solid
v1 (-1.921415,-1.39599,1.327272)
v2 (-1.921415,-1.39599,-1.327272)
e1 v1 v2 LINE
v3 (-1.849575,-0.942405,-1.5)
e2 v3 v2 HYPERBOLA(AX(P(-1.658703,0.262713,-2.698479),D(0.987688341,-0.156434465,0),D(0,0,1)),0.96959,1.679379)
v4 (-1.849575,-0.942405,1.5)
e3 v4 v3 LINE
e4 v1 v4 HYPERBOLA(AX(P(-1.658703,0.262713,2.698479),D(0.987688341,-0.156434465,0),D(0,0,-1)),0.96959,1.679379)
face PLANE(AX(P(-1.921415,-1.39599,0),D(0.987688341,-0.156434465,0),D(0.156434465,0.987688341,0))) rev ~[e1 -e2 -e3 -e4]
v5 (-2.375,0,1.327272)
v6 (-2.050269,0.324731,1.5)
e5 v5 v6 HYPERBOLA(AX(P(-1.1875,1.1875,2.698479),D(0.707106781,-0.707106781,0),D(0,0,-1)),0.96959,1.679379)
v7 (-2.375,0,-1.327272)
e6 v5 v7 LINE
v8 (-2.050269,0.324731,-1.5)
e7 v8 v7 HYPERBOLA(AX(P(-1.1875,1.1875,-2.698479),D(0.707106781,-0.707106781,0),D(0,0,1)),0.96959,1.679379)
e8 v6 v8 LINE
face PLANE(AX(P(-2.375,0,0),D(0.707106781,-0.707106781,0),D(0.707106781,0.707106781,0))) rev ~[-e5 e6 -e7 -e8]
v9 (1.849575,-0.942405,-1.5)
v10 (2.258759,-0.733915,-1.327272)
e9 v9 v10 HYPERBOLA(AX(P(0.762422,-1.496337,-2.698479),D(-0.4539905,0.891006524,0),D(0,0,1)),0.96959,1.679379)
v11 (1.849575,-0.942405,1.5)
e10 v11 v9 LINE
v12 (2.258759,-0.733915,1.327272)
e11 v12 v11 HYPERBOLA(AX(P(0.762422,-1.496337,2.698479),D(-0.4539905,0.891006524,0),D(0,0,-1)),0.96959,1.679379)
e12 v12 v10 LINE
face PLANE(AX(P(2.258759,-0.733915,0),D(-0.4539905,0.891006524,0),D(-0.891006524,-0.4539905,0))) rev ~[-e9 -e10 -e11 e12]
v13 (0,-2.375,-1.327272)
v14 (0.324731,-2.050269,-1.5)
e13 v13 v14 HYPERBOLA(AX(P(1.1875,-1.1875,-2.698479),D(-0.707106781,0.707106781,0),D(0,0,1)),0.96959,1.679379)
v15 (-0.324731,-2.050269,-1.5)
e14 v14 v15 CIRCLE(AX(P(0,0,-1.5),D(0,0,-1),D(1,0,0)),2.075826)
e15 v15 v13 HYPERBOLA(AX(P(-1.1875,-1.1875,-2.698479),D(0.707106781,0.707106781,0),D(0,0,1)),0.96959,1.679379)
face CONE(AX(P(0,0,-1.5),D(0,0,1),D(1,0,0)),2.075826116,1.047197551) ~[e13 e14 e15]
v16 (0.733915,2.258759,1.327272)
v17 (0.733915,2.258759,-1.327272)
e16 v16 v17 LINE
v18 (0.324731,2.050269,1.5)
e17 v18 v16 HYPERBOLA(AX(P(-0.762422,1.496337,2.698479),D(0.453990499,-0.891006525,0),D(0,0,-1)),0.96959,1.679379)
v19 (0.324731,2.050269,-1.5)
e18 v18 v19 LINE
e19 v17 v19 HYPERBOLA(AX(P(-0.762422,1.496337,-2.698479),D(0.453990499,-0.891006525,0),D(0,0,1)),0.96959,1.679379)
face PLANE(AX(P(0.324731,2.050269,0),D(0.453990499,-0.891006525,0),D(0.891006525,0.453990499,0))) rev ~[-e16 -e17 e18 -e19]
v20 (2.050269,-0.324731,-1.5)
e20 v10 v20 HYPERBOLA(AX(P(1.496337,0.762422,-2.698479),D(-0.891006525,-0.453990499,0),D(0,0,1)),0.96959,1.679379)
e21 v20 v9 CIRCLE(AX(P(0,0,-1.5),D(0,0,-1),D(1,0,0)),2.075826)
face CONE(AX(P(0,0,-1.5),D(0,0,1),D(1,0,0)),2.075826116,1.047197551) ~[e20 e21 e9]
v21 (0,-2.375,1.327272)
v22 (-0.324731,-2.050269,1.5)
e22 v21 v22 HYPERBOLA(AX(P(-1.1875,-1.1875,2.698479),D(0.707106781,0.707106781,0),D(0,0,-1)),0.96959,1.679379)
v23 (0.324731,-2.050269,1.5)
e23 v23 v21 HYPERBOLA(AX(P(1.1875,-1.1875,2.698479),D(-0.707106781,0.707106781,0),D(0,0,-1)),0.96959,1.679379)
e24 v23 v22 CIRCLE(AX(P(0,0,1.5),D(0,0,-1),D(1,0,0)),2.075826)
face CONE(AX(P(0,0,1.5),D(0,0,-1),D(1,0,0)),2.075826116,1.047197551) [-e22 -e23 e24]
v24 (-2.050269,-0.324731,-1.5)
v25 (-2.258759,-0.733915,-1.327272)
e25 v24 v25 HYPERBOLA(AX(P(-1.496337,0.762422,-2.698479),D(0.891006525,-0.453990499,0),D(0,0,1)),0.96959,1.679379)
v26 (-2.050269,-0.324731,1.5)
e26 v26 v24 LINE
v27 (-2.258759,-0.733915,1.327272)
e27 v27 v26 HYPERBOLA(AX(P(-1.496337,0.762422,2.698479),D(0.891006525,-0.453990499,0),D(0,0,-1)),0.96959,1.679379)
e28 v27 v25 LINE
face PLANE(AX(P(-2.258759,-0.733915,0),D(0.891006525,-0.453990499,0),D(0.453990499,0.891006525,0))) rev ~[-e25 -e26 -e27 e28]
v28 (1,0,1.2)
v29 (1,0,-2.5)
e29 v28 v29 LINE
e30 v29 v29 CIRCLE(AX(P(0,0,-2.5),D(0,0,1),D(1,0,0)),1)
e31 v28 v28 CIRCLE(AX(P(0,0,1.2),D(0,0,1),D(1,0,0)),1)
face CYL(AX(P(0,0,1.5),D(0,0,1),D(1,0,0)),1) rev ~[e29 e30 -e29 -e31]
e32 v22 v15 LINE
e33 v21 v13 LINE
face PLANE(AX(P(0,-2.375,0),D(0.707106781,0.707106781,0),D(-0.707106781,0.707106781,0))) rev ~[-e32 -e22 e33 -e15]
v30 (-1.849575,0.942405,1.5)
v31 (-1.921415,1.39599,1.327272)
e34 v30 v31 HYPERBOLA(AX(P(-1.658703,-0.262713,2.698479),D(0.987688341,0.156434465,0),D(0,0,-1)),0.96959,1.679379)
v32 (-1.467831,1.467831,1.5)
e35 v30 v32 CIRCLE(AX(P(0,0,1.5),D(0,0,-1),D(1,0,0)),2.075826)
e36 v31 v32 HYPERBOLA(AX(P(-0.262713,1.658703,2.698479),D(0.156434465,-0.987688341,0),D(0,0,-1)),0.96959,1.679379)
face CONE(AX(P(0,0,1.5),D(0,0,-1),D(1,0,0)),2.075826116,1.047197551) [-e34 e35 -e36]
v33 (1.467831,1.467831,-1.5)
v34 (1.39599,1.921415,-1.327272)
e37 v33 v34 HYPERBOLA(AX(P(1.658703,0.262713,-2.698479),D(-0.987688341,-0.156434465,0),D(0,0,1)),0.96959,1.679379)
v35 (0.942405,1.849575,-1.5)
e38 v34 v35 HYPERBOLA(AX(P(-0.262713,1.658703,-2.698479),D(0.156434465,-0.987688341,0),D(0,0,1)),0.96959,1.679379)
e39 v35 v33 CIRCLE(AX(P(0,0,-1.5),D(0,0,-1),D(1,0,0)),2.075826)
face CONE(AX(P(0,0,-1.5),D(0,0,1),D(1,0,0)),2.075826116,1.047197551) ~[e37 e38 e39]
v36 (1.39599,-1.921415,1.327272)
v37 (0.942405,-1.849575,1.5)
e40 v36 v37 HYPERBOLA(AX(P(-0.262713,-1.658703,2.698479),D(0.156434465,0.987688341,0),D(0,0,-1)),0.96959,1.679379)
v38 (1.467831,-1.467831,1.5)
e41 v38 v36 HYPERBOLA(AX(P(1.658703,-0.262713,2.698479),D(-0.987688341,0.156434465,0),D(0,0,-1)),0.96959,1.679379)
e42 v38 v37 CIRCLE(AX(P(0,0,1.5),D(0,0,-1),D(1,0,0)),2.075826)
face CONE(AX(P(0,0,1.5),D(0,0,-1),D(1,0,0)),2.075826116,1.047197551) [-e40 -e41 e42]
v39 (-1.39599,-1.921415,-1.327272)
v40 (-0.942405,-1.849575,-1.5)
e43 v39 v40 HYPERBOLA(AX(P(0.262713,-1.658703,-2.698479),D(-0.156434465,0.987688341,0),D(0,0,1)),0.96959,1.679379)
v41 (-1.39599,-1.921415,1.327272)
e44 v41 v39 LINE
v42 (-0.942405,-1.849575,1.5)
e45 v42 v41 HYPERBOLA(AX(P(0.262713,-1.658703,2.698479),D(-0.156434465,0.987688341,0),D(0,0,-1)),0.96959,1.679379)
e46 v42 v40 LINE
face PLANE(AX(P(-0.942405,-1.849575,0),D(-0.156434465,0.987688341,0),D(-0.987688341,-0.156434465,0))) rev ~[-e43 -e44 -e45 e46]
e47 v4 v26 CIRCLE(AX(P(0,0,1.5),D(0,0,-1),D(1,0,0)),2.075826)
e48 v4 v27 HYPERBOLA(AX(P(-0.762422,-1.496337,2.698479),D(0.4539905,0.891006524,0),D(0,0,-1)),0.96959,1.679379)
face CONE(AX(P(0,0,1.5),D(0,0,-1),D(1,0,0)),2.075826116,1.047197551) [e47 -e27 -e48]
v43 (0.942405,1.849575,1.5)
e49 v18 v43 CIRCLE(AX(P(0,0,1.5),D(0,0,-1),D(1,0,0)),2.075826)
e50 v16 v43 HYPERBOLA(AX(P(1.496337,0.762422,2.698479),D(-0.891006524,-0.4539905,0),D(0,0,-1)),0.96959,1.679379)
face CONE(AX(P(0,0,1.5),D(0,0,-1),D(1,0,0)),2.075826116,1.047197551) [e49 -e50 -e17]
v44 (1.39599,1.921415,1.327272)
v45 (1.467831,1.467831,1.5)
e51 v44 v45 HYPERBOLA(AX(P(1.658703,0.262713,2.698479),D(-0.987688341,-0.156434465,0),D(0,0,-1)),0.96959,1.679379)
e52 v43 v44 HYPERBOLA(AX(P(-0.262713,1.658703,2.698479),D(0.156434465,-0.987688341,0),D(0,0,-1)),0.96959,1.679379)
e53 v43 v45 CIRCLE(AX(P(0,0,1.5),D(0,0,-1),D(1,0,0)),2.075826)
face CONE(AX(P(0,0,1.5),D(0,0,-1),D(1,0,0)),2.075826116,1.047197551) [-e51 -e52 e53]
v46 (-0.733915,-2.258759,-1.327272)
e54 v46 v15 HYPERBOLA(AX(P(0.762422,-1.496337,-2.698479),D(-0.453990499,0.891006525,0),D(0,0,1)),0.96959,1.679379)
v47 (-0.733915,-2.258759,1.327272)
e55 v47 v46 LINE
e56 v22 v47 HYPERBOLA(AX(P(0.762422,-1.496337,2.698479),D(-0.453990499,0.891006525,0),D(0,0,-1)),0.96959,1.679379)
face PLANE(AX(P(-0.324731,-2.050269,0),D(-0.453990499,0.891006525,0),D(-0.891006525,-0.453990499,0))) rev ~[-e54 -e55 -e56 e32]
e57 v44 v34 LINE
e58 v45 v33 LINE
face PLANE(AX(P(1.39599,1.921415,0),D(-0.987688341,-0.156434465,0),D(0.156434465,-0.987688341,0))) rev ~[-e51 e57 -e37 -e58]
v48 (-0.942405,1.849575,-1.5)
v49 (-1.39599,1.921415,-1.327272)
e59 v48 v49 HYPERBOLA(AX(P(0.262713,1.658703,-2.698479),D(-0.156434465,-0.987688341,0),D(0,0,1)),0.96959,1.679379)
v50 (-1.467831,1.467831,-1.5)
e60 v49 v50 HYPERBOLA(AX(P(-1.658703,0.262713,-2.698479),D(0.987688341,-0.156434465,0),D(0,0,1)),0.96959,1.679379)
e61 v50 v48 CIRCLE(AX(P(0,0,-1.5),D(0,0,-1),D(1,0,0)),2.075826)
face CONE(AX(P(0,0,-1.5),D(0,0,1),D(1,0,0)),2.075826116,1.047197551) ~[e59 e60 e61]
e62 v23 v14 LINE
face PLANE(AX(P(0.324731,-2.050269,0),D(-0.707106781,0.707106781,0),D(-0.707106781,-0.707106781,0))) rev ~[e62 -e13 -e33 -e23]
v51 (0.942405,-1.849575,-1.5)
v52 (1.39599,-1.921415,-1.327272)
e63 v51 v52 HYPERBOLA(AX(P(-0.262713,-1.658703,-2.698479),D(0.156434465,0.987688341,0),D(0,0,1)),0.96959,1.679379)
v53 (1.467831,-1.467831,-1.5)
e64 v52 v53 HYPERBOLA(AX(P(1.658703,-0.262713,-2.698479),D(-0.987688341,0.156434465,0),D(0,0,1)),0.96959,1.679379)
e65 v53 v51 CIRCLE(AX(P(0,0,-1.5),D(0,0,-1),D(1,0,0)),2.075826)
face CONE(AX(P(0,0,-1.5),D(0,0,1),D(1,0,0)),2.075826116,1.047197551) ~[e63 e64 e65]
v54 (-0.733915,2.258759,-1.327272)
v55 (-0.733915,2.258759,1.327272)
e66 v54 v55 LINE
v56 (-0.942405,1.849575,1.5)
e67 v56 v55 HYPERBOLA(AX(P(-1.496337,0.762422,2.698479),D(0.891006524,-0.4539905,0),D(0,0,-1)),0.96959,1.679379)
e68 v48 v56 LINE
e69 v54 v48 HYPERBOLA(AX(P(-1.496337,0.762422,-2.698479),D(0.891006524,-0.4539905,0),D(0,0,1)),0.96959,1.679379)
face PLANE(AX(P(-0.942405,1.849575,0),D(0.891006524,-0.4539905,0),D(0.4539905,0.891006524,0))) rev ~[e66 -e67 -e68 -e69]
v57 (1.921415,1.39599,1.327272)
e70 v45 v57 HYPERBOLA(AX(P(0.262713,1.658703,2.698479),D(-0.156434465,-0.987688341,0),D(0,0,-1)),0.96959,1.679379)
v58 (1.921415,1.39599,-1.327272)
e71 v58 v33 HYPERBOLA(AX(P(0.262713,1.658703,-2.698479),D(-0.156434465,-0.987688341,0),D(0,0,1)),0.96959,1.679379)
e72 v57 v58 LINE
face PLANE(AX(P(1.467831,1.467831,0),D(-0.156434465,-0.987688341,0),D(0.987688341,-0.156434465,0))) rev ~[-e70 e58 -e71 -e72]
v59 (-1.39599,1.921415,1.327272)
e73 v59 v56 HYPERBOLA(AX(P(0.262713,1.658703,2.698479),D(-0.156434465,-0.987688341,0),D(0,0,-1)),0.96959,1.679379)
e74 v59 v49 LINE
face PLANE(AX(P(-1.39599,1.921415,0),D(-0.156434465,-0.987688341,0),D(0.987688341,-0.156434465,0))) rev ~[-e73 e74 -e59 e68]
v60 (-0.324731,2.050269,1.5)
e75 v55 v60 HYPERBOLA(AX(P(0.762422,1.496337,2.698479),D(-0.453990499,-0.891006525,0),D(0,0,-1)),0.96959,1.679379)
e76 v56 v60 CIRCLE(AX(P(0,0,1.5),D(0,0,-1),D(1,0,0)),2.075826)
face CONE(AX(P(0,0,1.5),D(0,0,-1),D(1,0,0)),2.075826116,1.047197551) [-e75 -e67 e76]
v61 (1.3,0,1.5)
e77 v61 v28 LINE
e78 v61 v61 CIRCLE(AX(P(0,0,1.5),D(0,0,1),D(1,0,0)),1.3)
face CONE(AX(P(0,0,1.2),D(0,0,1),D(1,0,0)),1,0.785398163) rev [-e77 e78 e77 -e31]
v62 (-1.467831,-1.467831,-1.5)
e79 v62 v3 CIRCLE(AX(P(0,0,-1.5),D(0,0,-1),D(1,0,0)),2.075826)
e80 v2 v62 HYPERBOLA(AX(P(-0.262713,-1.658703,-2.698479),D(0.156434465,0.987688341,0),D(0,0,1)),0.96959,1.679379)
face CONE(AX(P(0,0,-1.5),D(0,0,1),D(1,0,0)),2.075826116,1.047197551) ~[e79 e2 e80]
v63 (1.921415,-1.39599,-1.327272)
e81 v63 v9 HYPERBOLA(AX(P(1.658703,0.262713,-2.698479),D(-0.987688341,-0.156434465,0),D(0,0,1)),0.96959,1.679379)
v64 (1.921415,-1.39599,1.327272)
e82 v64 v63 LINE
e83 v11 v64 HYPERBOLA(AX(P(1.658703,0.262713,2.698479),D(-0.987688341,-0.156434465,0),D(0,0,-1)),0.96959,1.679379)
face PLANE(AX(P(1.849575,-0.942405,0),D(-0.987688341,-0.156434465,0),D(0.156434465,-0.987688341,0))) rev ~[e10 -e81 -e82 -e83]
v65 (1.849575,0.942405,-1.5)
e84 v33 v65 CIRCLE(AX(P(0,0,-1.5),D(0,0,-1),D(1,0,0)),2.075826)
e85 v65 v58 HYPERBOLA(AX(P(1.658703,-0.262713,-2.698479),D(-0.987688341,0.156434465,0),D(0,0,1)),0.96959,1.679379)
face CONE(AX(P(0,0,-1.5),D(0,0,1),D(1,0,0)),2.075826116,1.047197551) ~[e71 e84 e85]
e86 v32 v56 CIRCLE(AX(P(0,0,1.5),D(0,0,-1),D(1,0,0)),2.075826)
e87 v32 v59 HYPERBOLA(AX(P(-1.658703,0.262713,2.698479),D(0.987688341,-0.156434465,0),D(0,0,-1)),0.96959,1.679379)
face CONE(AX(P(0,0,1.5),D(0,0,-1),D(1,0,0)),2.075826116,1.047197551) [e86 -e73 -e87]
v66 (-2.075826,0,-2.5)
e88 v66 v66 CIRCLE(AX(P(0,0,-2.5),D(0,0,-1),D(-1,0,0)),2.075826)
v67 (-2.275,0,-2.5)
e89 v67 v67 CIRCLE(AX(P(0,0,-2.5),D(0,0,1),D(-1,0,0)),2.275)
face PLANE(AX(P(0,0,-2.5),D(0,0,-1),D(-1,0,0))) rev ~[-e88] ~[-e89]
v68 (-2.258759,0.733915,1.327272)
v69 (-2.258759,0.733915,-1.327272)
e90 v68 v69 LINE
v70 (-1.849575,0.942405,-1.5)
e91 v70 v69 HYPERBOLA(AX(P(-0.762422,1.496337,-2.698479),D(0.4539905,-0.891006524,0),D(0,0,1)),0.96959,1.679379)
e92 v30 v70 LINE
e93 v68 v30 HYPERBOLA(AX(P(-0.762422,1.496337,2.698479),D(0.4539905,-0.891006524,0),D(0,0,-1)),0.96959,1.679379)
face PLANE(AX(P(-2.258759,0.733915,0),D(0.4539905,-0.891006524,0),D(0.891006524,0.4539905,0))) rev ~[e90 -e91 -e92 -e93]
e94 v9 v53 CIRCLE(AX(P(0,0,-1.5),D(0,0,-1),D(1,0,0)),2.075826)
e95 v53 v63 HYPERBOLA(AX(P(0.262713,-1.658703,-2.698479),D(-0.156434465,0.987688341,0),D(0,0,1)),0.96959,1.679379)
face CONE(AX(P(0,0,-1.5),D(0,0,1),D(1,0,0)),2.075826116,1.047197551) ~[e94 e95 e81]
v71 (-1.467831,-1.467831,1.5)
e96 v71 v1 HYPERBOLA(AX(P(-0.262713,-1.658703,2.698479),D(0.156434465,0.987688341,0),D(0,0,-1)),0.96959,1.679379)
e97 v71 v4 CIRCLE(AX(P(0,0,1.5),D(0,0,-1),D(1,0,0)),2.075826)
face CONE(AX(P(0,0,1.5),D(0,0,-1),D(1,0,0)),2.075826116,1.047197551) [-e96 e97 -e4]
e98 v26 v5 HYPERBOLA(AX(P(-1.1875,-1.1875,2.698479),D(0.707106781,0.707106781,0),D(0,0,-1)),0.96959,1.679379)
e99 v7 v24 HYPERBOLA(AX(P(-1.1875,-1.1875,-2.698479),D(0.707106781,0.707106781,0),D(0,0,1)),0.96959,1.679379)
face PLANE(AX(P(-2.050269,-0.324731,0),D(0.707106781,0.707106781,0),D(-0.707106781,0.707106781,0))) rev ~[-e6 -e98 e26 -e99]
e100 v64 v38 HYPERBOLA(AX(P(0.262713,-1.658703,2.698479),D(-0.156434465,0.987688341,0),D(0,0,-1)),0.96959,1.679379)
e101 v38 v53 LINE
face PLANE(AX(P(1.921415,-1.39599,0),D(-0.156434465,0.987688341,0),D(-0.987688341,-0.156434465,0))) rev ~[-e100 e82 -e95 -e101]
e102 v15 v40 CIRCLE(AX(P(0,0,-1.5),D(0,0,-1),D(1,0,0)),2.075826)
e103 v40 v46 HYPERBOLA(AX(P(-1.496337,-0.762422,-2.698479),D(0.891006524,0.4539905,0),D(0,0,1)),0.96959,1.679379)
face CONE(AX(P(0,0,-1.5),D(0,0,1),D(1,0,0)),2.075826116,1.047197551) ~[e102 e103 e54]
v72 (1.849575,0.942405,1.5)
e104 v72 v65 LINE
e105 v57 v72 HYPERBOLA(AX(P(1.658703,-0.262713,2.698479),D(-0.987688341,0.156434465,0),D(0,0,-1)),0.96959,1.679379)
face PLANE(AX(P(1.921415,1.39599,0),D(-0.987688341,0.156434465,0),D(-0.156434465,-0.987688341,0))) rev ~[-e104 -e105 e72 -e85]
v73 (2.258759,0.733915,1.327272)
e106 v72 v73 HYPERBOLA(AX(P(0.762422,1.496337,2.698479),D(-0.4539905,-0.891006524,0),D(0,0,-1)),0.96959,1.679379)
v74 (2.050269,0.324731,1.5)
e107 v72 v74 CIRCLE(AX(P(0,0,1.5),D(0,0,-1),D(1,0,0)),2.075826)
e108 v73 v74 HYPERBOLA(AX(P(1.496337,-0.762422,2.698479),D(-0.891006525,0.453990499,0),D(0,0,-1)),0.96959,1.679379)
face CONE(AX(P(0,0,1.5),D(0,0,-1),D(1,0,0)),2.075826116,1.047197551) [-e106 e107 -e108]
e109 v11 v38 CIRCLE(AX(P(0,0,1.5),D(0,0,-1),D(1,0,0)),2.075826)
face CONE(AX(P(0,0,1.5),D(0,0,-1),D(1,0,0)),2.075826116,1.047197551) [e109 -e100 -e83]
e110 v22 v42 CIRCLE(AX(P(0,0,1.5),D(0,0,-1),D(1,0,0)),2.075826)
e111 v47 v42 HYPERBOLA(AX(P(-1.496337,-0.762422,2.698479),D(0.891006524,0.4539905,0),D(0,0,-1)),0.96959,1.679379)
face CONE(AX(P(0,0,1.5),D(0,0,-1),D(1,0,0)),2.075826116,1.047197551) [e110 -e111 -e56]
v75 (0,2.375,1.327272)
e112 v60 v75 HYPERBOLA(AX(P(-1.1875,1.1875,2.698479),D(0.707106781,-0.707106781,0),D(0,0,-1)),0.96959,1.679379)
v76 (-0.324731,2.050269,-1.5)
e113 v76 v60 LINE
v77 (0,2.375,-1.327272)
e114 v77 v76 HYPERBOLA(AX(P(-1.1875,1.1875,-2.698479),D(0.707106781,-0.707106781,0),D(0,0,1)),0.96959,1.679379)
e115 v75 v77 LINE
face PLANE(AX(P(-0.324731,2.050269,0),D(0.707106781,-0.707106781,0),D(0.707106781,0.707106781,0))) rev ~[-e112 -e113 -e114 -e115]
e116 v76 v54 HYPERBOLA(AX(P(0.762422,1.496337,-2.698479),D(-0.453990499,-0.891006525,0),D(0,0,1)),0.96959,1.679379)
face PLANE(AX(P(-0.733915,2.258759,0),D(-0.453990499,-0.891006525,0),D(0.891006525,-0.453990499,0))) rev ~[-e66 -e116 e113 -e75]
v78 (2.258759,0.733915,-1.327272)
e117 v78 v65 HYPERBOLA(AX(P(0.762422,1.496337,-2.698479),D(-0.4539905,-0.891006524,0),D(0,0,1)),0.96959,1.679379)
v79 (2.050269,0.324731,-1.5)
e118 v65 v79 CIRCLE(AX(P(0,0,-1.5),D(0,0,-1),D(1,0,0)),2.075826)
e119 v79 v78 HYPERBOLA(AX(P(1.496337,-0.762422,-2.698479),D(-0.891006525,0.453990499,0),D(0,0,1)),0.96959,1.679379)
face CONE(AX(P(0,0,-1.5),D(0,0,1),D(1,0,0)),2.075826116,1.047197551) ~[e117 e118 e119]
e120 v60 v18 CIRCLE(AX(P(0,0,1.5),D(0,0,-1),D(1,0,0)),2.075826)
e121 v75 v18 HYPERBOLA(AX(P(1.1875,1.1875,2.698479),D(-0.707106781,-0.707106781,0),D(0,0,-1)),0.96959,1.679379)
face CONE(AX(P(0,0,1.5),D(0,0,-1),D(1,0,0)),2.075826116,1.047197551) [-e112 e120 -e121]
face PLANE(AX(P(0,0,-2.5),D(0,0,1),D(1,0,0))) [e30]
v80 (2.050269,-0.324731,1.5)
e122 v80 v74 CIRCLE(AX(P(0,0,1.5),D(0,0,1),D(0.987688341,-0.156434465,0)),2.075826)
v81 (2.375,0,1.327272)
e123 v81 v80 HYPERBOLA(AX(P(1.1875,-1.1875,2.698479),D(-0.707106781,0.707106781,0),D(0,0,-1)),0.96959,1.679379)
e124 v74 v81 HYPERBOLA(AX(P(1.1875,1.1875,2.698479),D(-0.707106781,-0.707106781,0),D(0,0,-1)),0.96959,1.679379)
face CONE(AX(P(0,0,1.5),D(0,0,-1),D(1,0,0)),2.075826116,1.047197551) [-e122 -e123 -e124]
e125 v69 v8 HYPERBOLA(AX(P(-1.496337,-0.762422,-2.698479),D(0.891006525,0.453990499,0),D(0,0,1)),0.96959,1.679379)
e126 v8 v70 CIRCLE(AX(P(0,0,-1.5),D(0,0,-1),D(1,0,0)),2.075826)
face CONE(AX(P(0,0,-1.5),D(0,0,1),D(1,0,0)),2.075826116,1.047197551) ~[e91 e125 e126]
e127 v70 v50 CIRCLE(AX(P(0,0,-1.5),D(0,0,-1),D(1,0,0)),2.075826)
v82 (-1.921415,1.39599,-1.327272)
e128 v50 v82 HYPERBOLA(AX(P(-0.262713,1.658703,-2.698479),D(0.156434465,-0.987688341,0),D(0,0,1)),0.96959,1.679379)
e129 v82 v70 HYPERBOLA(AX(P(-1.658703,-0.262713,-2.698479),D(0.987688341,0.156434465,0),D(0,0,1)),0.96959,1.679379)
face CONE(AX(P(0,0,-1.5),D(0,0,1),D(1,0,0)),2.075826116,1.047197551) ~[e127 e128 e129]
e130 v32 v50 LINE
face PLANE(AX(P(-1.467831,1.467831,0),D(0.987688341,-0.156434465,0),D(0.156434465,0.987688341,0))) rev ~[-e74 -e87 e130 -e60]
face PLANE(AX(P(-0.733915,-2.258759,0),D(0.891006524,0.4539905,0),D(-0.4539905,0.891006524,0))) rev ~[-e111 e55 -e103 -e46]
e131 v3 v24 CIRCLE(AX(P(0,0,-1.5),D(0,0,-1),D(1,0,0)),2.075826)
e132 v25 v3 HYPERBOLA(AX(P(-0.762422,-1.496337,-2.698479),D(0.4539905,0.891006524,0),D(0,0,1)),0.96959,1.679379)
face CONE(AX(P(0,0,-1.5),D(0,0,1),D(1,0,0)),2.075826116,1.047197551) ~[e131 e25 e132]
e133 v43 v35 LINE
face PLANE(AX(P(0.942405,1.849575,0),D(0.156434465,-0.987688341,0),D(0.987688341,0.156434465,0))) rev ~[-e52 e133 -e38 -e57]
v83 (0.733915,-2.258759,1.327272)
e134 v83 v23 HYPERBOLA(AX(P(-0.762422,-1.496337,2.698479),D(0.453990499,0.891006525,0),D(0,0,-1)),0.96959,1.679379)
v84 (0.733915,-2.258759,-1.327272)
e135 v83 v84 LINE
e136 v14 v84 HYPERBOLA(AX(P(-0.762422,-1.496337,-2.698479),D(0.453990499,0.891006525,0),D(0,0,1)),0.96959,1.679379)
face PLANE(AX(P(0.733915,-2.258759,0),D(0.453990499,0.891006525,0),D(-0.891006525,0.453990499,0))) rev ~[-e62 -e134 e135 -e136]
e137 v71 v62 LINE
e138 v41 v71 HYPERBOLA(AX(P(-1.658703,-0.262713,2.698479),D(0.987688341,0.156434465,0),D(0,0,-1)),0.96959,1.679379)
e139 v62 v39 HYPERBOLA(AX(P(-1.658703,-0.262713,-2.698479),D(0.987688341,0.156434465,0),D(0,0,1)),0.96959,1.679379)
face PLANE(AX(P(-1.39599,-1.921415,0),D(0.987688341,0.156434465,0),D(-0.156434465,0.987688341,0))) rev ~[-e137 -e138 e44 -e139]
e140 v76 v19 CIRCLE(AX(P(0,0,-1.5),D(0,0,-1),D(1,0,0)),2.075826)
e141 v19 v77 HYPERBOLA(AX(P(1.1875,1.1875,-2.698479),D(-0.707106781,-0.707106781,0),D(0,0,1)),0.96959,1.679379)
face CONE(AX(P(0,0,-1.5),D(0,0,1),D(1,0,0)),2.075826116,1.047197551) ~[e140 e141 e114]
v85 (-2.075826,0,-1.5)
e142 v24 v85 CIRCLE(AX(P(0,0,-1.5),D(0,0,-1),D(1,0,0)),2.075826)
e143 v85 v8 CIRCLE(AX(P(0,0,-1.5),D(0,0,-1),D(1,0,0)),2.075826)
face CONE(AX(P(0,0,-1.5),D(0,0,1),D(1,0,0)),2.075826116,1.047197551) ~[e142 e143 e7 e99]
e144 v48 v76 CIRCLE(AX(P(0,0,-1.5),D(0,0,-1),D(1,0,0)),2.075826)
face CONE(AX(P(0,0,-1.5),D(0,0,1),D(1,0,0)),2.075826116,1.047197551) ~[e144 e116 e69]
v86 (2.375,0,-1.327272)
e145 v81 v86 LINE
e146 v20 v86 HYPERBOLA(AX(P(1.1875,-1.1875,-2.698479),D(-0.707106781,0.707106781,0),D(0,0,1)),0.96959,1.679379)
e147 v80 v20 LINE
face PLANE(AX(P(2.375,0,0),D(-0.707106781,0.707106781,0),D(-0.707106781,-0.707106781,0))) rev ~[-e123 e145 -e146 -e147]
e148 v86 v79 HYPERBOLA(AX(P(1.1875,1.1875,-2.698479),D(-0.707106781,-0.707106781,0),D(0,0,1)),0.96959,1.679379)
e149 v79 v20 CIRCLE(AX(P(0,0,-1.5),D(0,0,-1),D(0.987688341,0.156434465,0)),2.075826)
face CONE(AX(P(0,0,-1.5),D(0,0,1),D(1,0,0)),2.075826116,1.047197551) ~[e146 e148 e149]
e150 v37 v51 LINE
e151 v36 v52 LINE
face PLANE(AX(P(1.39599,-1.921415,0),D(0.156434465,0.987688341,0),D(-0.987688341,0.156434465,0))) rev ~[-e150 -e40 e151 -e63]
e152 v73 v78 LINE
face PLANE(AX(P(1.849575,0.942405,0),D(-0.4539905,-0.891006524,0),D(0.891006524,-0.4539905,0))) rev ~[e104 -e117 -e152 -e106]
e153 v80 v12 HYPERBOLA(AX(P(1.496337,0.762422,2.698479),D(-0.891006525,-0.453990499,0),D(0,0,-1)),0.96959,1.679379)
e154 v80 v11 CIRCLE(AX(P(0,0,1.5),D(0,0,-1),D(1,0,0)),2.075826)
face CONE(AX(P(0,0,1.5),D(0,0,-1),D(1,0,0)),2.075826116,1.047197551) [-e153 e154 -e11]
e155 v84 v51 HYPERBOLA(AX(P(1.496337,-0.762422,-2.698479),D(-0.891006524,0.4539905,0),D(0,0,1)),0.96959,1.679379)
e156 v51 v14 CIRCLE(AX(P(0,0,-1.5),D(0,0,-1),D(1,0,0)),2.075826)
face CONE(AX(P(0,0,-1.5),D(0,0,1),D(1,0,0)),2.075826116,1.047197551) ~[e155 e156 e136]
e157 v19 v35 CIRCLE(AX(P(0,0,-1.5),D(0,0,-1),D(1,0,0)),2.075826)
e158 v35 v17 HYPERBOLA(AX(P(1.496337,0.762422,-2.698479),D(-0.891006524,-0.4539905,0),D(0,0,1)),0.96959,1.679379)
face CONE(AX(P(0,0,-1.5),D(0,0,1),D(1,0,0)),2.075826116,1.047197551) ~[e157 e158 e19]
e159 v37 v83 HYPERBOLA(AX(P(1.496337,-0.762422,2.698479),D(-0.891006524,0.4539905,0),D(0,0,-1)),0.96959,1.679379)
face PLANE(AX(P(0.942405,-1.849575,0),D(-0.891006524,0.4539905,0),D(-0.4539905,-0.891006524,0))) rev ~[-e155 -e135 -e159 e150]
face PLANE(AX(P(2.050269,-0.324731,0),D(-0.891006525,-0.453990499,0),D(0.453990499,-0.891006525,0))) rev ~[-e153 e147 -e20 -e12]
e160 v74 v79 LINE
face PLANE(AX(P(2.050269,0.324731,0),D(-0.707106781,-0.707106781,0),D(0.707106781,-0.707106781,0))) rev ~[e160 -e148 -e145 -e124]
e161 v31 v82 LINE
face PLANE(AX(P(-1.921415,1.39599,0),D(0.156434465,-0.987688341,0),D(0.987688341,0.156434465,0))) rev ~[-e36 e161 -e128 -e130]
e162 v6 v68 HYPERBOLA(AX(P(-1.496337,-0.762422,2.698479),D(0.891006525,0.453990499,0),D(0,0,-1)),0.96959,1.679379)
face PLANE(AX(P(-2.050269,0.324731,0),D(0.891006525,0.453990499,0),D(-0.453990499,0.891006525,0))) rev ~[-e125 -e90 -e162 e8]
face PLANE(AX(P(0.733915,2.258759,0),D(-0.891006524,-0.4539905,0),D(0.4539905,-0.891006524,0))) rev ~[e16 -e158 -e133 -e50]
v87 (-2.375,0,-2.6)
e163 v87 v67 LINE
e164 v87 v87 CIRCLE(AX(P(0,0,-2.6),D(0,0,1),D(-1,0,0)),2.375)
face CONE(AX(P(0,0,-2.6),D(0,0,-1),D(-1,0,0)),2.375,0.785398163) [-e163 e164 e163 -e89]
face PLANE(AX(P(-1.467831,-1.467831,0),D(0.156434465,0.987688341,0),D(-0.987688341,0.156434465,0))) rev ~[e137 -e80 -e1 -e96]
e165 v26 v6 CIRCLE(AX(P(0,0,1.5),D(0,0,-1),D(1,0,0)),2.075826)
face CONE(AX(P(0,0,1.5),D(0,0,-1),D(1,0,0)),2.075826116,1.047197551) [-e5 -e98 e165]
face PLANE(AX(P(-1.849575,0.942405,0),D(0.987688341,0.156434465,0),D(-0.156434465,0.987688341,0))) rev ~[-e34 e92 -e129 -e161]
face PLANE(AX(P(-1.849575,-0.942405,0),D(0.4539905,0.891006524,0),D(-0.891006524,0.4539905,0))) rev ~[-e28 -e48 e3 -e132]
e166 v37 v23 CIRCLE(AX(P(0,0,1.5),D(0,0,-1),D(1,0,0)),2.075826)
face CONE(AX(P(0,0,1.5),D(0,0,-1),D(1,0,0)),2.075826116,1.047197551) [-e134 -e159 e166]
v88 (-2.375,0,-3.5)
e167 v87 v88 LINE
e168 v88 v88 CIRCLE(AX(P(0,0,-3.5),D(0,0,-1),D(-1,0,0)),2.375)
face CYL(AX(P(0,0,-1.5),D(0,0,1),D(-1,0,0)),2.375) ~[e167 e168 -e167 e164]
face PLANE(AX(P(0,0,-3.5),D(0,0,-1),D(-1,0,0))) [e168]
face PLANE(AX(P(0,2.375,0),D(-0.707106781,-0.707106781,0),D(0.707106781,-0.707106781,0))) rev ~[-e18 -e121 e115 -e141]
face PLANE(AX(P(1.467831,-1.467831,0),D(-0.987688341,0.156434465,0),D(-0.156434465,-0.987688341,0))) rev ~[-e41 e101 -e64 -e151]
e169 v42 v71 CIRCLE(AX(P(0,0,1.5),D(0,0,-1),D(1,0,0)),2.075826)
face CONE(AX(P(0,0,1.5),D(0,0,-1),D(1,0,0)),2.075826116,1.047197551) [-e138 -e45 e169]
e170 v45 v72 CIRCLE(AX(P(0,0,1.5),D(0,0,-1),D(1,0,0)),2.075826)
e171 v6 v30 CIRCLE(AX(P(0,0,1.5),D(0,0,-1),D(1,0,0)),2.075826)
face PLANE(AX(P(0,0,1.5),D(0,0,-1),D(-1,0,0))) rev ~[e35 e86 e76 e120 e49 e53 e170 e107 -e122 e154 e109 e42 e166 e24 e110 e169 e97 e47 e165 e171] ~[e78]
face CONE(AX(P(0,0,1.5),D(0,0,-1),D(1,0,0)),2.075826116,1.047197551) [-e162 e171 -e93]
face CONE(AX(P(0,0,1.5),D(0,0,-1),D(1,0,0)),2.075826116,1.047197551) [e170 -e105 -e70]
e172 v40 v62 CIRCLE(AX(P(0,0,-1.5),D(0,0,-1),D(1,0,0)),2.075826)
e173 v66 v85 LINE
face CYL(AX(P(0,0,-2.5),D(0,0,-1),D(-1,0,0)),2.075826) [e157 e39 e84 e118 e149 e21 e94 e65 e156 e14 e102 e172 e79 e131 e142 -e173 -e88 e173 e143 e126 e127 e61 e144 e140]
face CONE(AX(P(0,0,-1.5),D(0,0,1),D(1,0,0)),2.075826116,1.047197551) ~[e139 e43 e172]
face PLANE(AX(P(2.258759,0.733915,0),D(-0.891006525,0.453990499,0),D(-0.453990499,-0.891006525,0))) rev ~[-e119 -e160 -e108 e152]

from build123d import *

# Parameters (mm, degrees)
BOSS_EXTRUDE1_DEPTH = 1.5
SKETCH2_OUTSIDE_W   = 18.614
SKETCH2_OUTSIDE_H   = 18.614
SKETCH2_OUTSIDE_R   = 2.075826116
CUT_EXTRUDE1_DEPTH  = 3
CUT_EXTRUDE1_TAPER  = 60
SKETCH3_R           = 2.375
BOSS_EXTRUDE2_DEPTH = 2
CUT_EXTRUDE3_START  = -1
SKETCH5_OUTSIDE_W   = 8.424
SKETCH5_OUTSIDE_H   = 8.424
SKETCH5_OUTSIDE_R   = 2.075826116
CUT_EXTRUDE3_DEPTH  = 1
CHAMFER1_SIZE       = 0.1
SKETCH6_R           = 1
CUT_EXTRUDE4_DEPTH  = 4
CHAMFER2_SIZE       = 0.3


with BuildPart() as part:
    # Sketch1 → Boss-Extrude1 (new body, symmetric)
    with BuildSketch(Plane.XY):
        Polygon((-0.324730748, 2.050269252), (0, 2.375), (0.324730748, 2.050269252), (0.733915362, 2.258759226), (0.942405336, 1.849574613), (1.395989974, 1.921415362), (1.467830723, 1.467830723), (1.921415362, 1.395989974), (1.849574613, 0.942405336), (2.258759226, 0.733915362), (2.050269252, 0.324730748), (2.375, 0), (2.050269252, -0.324730748), (2.258759226, -0.733915362), (1.849574613, -0.942405336), (1.921415362, -1.395989974), (1.467830723, -1.467830723), (1.395989974, -1.921415362), (0.942405336, -1.849574613), (0.733915362, -2.258759226), (0.324730748, -2.050269252), (0, -2.375), (-0.324730748, -2.050269252), (-0.733915362, -2.258759226), (-0.942405336, -1.849574613), (-1.395989974, -1.921415362), (-1.467830723, -1.467830723), (-1.921415362, -1.395989974), (-1.849574613, -0.942405336), (-2.258759226, -0.733915362), (-2.050269252, -0.324730748), (-2.375, 0), (-2.050269252, 0.324730748), (-2.258759226, 0.733915362), (-1.849574613, 0.942405336), (-1.921415362, 1.395989974), (-1.467830723, 1.467830723), (-1.395989974, 1.921415362), (-0.942405336, 1.849574613), (-0.733915362, 2.258759226), align=None)
    extrude(amount=BOSS_EXTRUDE1_DEPTH, both=True)

    # Sketch2 outside → Cut-Extrude1 (cut)
    with BuildSketch(Plane.XY.offset(1.5)):
        Rectangle(SKETCH2_OUTSIDE_W, SKETCH2_OUTSIDE_H)
        Circle(SKETCH2_OUTSIDE_R, mode=Mode.SUBTRACT)
    cut_extrude1 = extrude(amount=-CUT_EXTRUDE1_DEPTH, taper=CUT_EXTRUDE1_TAPER, mode=Mode.SUBTRACT)

    # Mirror1: Cut-Extrude1 across plane
    add(cut_extrude1.mirror(Plane.XY), mode=Mode.SUBTRACT)

    # Sketch3 → Boss-Extrude2 (add)
    with BuildSketch(Plane(origin=(0, 0, -1.5), x_dir=(-1, 0, 0), z_dir=(0, 0, -1))):
        Circle(SKETCH3_R)
    extrude(amount=BOSS_EXTRUDE2_DEPTH)

    # Sketch5 outside → Cut-Extrude3 (cut)
    with BuildSketch(Plane(origin=(0, 0, -3.5), x_dir=(-1, 0, 0), z_dir=(0, 0, -1)).offset(CUT_EXTRUDE3_START)):
        Rectangle(SKETCH5_OUTSIDE_W, SKETCH5_OUTSIDE_H)
        Circle(SKETCH5_OUTSIDE_R, mode=Mode.SUBTRACT)
    extrude(amount=-CUT_EXTRUDE3_DEPTH, mode=Mode.SUBTRACT)

    # Chamfer1
    chamfer1_edges = [part.edges().sort_by_distance(p)[0] for p in [
        (2.375, 0, -2.5),
    ]]
    chamfer(chamfer1_edges, length=CHAMFER1_SIZE)

    # Sketch6 → Cut-Extrude4 (cut)
    with BuildSketch(Plane.XY.offset(1.5)):
        Circle(SKETCH6_R)
    extrude(amount=-CUT_EXTRUDE4_DEPTH, mode=Mode.SUBTRACT)

    # Chamfer2
    chamfer2_edges = [part.edges().sort_by_distance(p)[0] for p in [
        (-1, 0, 1.5),
    ]]
    chamfer(chamfer2_edges, length=CHAMFER2_SIZE)


solid = part.part
